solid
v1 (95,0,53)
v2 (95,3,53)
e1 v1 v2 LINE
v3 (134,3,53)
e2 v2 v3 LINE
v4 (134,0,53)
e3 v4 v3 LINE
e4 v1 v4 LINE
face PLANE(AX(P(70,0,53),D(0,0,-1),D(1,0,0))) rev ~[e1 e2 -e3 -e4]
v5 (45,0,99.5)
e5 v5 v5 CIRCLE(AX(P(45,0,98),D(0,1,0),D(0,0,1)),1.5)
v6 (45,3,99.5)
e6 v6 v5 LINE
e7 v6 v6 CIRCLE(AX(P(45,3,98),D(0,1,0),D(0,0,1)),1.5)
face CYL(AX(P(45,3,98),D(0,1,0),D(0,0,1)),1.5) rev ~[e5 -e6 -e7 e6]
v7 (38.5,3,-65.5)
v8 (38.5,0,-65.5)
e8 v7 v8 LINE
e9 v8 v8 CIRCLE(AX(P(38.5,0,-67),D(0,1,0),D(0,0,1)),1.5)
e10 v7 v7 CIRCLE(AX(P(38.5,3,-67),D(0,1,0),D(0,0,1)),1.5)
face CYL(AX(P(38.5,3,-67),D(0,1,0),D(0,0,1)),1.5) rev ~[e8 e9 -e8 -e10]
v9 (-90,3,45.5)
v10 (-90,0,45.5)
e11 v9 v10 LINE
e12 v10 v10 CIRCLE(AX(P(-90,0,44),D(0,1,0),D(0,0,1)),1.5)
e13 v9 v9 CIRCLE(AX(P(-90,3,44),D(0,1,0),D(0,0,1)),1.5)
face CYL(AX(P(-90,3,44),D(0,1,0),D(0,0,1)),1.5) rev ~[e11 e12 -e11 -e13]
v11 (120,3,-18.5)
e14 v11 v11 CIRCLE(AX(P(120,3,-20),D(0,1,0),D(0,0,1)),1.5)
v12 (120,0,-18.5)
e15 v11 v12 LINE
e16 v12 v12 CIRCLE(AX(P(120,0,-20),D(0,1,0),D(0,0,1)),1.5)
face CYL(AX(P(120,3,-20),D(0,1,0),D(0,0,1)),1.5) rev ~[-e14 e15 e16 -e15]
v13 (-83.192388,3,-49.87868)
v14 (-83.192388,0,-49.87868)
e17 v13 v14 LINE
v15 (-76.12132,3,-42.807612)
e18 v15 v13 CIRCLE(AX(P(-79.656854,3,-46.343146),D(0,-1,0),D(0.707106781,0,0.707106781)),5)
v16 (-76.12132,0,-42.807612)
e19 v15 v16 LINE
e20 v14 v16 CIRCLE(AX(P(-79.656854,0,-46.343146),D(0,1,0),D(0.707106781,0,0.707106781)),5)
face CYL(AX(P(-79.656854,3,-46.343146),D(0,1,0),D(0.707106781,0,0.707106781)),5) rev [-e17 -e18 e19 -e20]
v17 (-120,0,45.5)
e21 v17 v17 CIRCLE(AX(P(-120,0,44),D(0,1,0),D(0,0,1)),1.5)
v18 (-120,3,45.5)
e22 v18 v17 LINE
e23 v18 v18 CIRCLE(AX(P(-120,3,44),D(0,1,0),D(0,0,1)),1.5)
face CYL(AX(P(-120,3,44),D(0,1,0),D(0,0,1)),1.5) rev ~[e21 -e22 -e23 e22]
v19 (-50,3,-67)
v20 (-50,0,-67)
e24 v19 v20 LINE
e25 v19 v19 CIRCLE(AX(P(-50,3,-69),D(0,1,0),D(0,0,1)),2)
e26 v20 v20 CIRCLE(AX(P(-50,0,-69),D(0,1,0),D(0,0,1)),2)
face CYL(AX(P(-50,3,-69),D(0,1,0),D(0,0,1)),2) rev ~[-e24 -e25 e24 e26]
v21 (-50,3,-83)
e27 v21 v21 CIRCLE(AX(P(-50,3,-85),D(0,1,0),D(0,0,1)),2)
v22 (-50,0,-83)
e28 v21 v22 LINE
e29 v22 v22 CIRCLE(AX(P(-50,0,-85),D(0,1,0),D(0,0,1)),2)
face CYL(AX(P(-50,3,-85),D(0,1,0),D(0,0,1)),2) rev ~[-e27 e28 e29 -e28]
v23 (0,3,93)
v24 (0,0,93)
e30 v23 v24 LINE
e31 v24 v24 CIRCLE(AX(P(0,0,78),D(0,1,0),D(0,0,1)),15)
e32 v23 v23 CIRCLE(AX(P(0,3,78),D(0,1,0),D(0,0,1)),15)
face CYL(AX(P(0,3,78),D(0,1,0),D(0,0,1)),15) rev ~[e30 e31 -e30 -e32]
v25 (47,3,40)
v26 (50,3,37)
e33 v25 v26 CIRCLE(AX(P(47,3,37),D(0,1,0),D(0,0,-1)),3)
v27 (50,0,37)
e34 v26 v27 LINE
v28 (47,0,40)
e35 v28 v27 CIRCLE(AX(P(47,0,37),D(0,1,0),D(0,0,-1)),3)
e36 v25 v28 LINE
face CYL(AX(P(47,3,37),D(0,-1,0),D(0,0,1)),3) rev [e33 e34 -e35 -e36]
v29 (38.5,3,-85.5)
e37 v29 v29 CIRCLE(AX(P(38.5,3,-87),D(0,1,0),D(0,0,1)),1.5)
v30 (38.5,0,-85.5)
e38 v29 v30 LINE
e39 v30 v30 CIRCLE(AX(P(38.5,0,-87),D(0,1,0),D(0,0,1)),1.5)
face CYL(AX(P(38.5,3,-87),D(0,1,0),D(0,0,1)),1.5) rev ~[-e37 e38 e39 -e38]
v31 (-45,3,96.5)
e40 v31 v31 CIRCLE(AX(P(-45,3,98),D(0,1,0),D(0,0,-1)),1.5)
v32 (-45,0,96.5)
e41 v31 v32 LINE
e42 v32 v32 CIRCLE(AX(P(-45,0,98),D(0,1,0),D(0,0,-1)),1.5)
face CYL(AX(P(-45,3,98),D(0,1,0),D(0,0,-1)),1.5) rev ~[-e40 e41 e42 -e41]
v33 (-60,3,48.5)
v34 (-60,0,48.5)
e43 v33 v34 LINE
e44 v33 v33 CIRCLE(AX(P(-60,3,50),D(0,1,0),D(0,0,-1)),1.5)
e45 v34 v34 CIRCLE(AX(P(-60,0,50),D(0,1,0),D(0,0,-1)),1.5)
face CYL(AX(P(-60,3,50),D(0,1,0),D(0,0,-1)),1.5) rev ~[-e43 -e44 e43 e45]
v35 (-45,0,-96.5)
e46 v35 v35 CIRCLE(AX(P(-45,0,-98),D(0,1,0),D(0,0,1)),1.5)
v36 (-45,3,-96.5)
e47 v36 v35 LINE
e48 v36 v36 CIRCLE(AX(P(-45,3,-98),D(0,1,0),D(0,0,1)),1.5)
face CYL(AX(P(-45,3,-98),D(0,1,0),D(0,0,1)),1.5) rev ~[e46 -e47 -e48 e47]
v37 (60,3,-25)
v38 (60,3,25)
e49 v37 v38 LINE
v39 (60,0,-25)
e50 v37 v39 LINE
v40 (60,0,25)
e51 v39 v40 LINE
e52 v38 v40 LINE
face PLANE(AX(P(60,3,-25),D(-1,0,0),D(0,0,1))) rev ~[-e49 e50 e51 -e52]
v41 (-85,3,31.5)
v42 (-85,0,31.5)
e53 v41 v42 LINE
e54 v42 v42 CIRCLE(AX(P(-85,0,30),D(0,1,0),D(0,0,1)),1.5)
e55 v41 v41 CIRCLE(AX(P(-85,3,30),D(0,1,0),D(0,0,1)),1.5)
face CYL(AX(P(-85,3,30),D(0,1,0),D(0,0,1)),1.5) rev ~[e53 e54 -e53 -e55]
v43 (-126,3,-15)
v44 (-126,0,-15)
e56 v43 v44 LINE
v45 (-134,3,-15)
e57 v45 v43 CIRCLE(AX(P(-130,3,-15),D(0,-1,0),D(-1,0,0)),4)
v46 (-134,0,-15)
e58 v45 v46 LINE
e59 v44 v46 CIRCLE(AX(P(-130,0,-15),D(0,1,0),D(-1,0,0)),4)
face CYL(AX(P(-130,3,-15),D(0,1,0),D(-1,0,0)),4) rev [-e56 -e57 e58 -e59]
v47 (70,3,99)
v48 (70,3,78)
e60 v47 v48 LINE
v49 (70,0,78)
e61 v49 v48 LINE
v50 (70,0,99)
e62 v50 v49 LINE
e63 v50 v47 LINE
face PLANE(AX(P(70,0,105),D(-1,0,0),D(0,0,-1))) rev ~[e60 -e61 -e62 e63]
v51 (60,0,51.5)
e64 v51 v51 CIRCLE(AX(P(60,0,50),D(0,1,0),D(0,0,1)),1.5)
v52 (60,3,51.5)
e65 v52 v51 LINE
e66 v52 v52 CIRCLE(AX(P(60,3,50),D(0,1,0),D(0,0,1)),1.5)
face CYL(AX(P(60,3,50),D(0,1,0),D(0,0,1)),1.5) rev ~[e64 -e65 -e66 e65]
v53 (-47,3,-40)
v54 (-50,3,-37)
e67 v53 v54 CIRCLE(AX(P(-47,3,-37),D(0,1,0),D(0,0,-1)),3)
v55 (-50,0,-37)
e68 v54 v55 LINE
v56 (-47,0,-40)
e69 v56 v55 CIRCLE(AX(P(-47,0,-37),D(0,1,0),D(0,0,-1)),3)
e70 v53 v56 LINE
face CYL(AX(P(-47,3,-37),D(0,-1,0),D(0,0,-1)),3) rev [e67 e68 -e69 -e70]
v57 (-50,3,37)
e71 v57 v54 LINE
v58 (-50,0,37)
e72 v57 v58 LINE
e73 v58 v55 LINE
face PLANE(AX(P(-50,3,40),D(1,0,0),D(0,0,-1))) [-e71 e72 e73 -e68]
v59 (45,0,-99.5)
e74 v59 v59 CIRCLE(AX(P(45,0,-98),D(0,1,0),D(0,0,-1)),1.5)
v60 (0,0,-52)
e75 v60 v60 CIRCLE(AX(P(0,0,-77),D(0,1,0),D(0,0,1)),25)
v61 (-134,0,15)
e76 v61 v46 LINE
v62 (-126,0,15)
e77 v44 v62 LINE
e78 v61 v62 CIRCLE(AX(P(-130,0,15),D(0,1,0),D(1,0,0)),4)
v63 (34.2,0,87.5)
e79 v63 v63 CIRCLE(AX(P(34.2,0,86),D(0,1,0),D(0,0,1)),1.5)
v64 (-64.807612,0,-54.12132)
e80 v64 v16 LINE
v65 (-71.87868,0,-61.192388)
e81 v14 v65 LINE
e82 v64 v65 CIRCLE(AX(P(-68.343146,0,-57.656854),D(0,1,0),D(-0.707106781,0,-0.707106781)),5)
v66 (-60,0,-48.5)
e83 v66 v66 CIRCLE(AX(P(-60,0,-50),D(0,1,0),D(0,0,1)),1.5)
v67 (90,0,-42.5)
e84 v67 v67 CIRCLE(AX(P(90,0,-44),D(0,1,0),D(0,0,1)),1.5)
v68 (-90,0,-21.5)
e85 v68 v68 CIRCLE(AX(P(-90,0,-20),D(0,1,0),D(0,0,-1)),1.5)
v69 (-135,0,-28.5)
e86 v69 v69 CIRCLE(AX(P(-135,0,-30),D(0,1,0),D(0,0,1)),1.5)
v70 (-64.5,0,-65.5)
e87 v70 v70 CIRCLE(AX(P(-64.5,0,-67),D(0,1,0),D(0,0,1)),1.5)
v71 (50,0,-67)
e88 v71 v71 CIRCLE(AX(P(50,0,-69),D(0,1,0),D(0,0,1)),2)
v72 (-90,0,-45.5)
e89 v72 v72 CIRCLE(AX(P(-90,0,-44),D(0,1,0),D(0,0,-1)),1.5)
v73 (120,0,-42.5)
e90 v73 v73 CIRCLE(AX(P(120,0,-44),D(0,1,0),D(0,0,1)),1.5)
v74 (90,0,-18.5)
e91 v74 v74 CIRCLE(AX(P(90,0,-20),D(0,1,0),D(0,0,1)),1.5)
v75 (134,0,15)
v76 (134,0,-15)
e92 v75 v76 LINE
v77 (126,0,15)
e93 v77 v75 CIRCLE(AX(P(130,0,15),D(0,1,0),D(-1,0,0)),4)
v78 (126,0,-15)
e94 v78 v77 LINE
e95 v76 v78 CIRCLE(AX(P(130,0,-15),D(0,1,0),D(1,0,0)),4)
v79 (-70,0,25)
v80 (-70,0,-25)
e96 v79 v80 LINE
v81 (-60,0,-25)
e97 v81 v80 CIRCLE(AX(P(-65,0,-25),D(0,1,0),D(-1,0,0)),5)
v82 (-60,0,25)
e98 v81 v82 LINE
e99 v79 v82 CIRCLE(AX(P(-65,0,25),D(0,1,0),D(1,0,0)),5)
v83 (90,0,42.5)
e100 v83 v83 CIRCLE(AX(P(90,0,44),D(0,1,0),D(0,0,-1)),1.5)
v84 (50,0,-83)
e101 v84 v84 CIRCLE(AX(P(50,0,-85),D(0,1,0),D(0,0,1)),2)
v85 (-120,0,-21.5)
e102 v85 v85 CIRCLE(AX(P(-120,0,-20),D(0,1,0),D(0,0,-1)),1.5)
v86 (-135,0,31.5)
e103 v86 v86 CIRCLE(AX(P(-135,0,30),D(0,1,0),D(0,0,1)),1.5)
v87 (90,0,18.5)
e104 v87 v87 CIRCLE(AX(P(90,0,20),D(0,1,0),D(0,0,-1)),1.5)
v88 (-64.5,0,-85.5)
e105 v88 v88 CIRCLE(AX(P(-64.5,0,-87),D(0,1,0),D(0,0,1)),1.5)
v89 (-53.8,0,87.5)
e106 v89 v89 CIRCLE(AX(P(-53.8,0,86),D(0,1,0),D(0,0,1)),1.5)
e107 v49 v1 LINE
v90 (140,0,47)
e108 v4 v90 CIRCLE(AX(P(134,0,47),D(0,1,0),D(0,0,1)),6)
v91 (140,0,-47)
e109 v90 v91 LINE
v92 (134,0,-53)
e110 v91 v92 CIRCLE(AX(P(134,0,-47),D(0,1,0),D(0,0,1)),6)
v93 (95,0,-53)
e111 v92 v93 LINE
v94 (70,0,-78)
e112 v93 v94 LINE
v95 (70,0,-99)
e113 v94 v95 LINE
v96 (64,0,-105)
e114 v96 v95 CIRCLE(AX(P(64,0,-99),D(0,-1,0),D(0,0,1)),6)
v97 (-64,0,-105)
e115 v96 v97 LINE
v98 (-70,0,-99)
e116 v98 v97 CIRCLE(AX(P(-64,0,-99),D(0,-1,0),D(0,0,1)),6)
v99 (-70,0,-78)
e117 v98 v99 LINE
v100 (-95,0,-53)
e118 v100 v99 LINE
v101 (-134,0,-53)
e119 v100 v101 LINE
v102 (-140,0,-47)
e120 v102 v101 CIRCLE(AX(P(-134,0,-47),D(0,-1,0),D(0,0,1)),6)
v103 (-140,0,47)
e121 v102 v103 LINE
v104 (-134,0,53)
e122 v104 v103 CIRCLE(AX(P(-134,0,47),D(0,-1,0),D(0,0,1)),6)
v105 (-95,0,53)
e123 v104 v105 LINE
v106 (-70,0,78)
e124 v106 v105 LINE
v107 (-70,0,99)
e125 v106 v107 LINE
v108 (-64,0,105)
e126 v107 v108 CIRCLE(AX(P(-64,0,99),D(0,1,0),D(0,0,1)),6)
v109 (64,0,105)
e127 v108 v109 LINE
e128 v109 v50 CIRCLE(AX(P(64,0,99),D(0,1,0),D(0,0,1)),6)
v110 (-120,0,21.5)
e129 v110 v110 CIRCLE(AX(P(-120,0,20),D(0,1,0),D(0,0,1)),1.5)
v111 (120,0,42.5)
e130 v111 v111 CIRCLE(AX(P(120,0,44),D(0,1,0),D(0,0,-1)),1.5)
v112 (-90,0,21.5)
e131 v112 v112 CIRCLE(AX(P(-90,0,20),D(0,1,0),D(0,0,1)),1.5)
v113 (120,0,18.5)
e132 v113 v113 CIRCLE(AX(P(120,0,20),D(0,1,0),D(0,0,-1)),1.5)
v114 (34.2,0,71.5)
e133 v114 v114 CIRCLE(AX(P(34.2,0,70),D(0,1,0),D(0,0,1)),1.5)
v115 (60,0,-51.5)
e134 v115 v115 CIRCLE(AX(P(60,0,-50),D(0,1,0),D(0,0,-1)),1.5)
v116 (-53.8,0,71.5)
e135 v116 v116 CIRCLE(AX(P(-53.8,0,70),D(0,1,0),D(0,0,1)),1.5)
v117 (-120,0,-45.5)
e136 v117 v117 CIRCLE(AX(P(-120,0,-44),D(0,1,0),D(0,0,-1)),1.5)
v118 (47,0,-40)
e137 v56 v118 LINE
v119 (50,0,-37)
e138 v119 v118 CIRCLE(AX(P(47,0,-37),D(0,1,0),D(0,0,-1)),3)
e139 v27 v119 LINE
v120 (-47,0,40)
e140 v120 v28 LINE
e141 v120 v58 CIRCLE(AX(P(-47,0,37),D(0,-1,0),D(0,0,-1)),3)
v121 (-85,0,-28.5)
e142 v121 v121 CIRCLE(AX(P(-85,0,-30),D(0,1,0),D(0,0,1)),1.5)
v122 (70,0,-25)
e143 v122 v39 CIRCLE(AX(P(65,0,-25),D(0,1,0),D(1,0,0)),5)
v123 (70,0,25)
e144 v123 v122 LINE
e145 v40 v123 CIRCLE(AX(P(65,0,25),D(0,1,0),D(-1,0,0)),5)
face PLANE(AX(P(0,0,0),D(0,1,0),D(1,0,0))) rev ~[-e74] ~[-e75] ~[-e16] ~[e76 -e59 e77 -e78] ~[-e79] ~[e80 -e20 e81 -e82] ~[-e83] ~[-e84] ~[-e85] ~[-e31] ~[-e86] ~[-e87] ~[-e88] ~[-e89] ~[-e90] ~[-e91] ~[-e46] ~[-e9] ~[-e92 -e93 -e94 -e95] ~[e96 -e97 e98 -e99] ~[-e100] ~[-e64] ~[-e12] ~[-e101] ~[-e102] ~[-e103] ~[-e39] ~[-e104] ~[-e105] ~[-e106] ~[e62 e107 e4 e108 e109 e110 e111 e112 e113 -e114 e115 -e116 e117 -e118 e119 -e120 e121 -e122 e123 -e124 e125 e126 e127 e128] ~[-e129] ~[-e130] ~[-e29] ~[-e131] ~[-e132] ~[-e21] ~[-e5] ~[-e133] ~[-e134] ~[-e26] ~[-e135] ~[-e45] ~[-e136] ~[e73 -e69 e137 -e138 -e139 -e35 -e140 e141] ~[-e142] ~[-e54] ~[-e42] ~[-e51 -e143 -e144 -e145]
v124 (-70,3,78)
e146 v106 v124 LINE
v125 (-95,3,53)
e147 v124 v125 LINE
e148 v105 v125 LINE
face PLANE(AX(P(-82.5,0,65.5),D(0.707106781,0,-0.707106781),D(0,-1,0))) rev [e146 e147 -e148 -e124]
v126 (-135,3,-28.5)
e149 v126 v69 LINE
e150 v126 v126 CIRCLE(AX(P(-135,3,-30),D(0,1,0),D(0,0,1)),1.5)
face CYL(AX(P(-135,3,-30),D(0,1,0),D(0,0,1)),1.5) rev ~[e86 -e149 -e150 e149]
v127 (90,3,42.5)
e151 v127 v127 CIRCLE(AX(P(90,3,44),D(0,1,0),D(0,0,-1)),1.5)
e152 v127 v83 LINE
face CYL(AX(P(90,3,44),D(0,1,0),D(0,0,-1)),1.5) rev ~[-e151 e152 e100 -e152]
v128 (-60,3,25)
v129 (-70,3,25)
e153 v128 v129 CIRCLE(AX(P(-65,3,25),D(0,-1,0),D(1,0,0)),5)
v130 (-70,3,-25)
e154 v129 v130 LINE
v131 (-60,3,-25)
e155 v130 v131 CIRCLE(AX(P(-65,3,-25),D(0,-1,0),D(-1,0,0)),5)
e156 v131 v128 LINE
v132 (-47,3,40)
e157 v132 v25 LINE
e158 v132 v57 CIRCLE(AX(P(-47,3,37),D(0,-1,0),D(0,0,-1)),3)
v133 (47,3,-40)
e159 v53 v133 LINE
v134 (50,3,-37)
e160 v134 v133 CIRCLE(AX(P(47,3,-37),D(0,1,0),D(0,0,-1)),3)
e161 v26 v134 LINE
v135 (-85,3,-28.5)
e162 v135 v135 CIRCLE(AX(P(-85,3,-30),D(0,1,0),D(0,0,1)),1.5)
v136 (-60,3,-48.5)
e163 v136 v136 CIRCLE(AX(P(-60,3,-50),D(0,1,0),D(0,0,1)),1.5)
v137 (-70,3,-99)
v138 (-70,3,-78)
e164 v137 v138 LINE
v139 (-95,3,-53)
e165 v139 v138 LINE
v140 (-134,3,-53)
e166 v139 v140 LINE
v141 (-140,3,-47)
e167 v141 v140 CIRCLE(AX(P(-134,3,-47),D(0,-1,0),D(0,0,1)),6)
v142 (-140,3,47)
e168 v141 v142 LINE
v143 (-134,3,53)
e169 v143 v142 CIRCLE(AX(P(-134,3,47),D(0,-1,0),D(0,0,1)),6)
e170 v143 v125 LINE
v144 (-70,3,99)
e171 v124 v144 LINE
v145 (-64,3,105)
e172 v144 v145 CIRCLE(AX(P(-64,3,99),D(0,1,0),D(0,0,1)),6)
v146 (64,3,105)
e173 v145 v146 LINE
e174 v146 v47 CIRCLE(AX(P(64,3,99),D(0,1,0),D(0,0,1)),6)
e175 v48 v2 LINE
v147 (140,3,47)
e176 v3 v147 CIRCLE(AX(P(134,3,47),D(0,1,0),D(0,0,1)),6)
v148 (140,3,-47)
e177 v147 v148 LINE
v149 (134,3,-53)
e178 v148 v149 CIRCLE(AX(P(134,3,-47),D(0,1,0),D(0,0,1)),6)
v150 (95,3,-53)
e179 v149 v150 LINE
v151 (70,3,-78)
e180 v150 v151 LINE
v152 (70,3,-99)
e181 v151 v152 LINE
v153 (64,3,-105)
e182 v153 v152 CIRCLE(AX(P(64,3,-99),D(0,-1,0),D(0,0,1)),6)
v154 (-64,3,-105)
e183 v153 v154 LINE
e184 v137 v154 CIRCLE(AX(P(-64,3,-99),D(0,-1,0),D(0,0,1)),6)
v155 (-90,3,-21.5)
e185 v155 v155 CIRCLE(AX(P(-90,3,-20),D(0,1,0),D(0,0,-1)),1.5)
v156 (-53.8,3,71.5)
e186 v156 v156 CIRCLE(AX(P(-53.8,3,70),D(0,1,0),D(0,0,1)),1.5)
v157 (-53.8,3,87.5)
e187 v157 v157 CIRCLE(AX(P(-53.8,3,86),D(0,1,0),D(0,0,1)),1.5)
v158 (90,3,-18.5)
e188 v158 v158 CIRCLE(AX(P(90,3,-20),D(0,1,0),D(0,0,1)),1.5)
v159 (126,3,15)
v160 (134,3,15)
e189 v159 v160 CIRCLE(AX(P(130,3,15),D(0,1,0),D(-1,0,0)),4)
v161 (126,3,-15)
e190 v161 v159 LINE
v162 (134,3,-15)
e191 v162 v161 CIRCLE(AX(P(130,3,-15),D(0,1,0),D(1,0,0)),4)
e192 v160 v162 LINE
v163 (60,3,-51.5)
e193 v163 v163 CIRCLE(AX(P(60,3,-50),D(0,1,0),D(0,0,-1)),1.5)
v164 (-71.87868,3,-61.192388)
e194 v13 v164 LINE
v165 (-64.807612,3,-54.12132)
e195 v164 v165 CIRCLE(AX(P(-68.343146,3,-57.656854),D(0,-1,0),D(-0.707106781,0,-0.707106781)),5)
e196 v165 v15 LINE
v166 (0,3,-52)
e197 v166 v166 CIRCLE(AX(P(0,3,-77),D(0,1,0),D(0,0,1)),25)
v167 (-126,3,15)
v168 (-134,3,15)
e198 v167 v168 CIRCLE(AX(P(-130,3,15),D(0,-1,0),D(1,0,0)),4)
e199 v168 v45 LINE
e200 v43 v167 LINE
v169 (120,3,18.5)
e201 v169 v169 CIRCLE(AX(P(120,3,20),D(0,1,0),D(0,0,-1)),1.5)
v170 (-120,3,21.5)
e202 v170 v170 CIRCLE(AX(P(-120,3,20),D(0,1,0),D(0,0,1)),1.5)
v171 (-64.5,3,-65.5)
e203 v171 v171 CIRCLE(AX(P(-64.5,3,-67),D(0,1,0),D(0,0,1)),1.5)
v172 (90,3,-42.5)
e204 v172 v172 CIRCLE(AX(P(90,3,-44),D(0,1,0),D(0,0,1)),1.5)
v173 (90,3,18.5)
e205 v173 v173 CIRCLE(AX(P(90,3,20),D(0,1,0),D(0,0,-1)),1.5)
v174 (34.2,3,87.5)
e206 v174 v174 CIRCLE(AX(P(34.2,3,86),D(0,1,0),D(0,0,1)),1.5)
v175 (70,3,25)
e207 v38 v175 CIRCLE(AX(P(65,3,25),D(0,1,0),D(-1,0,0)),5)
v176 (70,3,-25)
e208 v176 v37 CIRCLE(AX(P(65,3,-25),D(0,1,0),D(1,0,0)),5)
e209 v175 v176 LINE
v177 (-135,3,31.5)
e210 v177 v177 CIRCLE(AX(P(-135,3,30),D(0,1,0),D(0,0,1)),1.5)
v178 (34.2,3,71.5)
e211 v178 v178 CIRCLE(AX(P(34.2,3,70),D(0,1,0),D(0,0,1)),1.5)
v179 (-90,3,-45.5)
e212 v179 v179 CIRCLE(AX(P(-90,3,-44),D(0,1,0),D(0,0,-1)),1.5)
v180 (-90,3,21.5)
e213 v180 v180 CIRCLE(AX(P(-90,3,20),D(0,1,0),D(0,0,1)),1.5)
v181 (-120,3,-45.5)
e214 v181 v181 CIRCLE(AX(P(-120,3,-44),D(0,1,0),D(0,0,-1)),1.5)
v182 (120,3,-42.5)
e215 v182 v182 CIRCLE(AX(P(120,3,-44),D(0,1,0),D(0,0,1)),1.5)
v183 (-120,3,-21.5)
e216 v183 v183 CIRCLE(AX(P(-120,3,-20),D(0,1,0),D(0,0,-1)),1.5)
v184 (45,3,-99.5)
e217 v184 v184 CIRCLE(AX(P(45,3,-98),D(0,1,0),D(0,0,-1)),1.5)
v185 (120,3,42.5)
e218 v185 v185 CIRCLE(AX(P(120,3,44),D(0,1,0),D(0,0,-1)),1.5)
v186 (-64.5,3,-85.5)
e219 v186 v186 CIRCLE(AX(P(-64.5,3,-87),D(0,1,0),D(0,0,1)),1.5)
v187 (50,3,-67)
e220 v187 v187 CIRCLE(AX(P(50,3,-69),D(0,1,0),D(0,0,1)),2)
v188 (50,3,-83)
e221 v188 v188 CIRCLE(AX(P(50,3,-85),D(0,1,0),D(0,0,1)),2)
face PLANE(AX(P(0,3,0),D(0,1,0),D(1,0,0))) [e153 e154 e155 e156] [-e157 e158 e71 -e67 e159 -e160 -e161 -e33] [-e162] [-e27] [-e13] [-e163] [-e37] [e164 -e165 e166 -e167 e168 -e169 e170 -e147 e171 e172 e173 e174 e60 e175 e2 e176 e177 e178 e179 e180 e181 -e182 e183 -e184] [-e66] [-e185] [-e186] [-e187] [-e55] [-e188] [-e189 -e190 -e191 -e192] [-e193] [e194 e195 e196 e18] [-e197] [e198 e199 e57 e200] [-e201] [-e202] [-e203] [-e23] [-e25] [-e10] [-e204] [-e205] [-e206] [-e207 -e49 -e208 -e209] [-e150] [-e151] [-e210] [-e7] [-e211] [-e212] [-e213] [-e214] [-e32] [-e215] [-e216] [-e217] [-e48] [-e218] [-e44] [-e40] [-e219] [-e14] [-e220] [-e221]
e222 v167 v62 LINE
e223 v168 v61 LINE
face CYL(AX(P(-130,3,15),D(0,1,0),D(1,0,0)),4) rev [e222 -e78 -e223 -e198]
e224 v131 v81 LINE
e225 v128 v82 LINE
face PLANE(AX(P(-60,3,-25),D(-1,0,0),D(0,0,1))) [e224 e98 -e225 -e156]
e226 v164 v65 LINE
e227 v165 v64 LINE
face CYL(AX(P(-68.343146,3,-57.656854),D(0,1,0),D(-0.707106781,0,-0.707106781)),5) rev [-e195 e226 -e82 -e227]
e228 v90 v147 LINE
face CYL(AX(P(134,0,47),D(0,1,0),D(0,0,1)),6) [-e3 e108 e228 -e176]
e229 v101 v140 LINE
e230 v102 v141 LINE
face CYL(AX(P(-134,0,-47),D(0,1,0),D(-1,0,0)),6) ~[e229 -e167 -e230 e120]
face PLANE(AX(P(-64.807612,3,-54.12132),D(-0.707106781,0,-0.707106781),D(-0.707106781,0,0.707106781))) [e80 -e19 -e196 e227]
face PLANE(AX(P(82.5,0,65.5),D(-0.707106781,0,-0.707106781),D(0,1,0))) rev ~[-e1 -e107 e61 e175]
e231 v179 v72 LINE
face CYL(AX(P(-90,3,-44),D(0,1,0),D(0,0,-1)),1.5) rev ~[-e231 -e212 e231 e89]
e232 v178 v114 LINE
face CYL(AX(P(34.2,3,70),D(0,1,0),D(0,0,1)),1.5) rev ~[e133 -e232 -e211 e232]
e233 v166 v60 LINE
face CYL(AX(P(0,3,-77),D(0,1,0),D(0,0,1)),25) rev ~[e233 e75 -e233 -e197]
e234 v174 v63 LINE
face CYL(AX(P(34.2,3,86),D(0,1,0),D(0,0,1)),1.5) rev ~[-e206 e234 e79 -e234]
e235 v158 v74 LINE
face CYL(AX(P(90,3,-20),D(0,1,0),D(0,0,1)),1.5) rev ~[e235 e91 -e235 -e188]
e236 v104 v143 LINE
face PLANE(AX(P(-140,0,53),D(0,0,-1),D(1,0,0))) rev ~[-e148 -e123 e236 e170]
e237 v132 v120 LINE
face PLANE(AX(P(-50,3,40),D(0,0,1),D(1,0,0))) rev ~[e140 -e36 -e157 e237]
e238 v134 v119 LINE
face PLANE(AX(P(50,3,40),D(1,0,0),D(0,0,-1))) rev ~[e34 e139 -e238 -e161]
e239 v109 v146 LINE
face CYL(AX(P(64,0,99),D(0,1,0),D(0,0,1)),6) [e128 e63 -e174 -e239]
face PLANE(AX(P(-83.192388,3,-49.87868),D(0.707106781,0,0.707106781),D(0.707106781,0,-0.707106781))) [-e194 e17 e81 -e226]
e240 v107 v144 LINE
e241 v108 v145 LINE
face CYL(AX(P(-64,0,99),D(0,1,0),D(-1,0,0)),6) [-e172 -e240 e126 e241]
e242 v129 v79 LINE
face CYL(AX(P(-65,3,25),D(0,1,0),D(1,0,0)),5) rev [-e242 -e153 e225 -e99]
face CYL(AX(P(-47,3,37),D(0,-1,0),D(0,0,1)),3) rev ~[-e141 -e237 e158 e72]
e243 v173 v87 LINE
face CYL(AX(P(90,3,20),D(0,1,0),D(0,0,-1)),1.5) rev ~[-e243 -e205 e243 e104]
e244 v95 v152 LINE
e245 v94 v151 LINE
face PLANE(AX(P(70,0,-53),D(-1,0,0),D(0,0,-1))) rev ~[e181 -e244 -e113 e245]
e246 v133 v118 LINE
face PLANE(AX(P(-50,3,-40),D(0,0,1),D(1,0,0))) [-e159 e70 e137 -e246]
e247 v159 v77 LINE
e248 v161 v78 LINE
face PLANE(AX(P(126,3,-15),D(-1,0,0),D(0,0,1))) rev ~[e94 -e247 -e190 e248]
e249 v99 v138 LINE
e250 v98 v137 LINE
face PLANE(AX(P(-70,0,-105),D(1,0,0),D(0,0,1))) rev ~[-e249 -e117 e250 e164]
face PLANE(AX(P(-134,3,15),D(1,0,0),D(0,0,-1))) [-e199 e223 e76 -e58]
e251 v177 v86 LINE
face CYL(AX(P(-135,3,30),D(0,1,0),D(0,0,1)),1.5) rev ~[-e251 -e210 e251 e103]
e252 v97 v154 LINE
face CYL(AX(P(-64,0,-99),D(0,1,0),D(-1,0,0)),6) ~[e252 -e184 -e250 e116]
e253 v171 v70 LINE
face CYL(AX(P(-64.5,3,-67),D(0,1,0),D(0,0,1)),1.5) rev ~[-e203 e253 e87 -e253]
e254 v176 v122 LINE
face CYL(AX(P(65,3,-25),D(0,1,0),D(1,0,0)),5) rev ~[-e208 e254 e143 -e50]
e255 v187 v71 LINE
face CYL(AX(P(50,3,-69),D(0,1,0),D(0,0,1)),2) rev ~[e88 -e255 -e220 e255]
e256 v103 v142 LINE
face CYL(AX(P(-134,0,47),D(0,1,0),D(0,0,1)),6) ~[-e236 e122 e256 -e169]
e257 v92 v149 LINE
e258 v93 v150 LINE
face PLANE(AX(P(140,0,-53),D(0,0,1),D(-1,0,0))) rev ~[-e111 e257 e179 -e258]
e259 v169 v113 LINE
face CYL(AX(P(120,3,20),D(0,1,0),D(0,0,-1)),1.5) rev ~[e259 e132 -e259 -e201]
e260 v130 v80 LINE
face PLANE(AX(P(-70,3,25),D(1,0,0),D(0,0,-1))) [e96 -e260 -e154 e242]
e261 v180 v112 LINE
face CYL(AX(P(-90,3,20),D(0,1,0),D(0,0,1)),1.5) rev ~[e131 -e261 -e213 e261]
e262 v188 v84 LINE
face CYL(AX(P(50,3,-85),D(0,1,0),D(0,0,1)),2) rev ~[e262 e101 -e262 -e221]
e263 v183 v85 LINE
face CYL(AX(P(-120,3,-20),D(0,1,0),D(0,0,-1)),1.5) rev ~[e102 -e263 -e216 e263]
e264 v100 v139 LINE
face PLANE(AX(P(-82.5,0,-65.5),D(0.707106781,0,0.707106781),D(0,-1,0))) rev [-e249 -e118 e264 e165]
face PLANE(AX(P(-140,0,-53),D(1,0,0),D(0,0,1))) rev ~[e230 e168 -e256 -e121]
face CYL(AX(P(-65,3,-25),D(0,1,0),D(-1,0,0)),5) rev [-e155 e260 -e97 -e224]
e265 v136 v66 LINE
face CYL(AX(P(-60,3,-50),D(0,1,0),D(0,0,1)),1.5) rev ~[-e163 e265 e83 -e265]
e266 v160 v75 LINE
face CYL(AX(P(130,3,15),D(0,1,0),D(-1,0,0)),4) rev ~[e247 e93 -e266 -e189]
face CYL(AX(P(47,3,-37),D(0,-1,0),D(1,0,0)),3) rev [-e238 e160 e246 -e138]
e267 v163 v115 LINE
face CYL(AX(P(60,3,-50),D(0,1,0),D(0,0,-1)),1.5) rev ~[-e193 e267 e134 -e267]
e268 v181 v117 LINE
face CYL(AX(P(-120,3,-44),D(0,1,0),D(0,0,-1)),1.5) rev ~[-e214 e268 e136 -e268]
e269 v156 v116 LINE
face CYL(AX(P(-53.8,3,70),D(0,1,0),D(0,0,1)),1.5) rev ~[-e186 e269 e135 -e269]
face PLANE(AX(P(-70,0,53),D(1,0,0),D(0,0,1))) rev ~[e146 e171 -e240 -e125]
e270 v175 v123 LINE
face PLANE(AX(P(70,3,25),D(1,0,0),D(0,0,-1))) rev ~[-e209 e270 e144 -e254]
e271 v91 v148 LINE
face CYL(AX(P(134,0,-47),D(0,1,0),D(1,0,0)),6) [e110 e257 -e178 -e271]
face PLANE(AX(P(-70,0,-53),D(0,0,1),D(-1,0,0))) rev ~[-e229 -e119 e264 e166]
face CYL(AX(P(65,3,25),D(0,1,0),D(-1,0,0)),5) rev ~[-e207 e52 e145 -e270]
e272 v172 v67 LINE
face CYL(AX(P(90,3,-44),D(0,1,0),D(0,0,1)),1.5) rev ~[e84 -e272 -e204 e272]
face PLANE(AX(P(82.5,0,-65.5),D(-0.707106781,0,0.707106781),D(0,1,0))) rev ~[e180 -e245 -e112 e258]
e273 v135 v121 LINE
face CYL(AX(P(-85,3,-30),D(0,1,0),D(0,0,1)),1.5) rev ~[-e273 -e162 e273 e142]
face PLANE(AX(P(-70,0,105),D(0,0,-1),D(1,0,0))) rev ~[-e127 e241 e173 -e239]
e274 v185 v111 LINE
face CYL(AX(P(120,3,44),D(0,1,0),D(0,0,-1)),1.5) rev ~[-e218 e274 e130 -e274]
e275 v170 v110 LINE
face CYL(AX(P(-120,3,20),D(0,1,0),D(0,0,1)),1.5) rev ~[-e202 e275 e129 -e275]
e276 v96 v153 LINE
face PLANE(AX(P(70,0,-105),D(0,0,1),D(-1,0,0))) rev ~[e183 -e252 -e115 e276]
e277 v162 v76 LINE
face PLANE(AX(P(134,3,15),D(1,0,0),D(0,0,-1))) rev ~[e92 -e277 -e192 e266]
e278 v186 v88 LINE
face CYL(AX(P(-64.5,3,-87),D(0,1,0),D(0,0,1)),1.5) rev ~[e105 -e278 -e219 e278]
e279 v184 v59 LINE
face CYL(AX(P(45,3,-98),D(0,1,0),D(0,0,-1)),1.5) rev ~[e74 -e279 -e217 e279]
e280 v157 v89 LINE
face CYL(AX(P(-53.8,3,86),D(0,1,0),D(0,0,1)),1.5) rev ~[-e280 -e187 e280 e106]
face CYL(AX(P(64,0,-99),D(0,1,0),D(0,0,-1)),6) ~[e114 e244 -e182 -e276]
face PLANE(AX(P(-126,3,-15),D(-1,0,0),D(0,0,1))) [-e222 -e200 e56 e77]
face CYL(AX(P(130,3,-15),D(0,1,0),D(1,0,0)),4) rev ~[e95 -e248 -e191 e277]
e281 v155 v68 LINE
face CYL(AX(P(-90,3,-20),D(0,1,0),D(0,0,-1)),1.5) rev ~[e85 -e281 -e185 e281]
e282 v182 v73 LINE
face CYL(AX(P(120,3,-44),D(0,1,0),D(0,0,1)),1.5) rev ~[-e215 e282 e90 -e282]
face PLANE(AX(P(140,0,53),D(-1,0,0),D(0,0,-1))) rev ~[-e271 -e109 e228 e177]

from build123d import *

# Parameters (mm, degrees)
EXTRUDE_1_DEPTH     = 3
SKETCH_2_R          = 1.5
CUT_EXTRUDE_1_DEPTH = 3
SKETCH_3_R          = 1.5
SKETCH_3_R_2        = 25
SKETCH_3_R_3        = 15
SKETCH_3_R_4        = 2
CUT_EXTRUDE_2_DEPTH = 10
SKETCH_4_W          = 100
SKETCH_4_H          = 80
CUT_EXTRUDE_3_DEPTH = 3
FILLET_2_R          = 3
SKETCH_5_R          = 1.5
CUT_EXTRUDE_4_DEPTH = 3
FILLET_3_R          = 6
CHAMFER_1_SIZE      = 25
SKETCH_7_R          = 1.5
CUT_EXTRUDE_6_DEPTH = 10


with BuildPart() as part:
    # 草图1 → 凸台-拉伸1 (new body)
    with BuildSketch(Plane(origin=(0, 0, 0), x_dir=(1, 0, 0), z_dir=(0, 1, 0))):
        Polygon((-70, -53), (-70, -105), (70, -105), (70, -53), (140, -53), (140, 53), (70, 53), (70, 105), (-70, 105), (-70, 53), (-140, 53), (-140, -53), align=None)
    extrude(amount=EXTRUDE_1_DEPTH)

    # 草图2 → 切除-拉伸1 (cut)
    with BuildSketch(Plane(origin=(0, 3, 0), x_dir=(1, 0, 0), z_dir=(0, 1, 0))):
        with Locations(Location((120, 44, 0), (0, 0, 270))):
            Circle(SKETCH_2_R)
        with Locations(Location((90, 44, 0), (0, 0, 270))):
            Circle(SKETCH_2_R)
        with Locations(Location((90, 20, 0), (0, 0, 270))):
            Circle(SKETCH_2_R)
        with Locations(Location((120, 20, 0), (0, 0, 270))):
            Circle(SKETCH_2_R)
        with Locations(Location((120, -20, 0), (0, 0, 90))):
            Circle(SKETCH_2_R)
        with Locations(Location((120, -44, 0), (0, 0, 90))):
            Circle(SKETCH_2_R)
        with Locations(Location((90, -20, 0), (0, 0, 90))):
            Circle(SKETCH_2_R)
        with Locations(Location((90, -44, 0), (0, 0, 90))):
            Circle(SKETCH_2_R)
        with Locations(Location((-90, -44, 0), (0, 0, 270))):
            Circle(SKETCH_2_R)
        with Locations(Location((-90, -20, 0), (0, 0, 270))):
            Circle(SKETCH_2_R)
        with Locations(Location((-120, -44, 0), (0, 0, 270))):
            Circle(SKETCH_2_R)
        with Locations(Location((-120, -20, 0), (0, 0, 270))):
            Circle(SKETCH_2_R)
        with Locations(Location((-120, 20, 0), (0, 0, 90))):
            Circle(SKETCH_2_R)
        with Locations(Location((-90, 20, 0), (0, 0, 90))):
            Circle(SKETCH_2_R)
        with Locations(Location((-90, 44, 0), (0, 0, 90))):
            Circle(SKETCH_2_R)
        with Locations(Location((-120, 44, 0), (0, 0, 90))):
            Circle(SKETCH_2_R)
    extrude(amount=-CUT_EXTRUDE_1_DEPTH, mode=Mode.SUBTRACT)

    # 草图3 → 切除-拉伸2 (cut)
    with BuildSketch(Plane(origin=(0, 3, 0), x_dir=(1, 0, 0), z_dir=(0, 1, 0))):
        with Locations(Location((-64.5, 87, 0), (0, 0, 270))):
            Circle(SKETCH_3_R)
        with Locations(Location((-64.5, 67, 0), (0, 0, 270))):
            Circle(SKETCH_3_R)
        with Locations(Location((0, 77, 0), (0, 0, 270))):
            Circle(SKETCH_3_R_2)
        with Locations(Location((34.2, -70, 0), (0, 0, 270))):
            Circle(SKETCH_3_R)
        with Locations(Location((34.2, -86, 0), (0, 0, 270))):
            Circle(SKETCH_3_R)
        with Locations(Location((0, -78, 0), (0, 0, 270))):
            Circle(SKETCH_3_R_3)
        with Locations(Location((-50, 85, 0), (0, 0, 270))):
            Circle(SKETCH_3_R_4)
        with Locations(Location((-50, 69, 0), (0, 0, 270))):
            Circle(SKETCH_3_R_4)
        with Locations(Location((50, 85, 0), (0, 0, 270))):
            Circle(SKETCH_3_R_4)
        with Locations(Location((50, 69, 0), (0, 0, 270))):
            Circle(SKETCH_3_R_4)
        with Locations(Location((38.5, 87, 0), (0, 0, 270))):
            Circle(SKETCH_3_R)
        with Locations(Location((38.5, 67, 0), (0, 0, 270))):
            Circle(SKETCH_3_R)
        with Locations(Location((-53.8, -86, 0), (0, 0, 270))):
            Circle(SKETCH_3_R)
        with Locations(Location((-53.8, -70, 0), (0, 0, 270))):
            Circle(SKETCH_3_R)
    extrude(amount=-CUT_EXTRUDE_2_DEPTH, mode=Mode.SUBTRACT)

    # 草图4 → 切除-拉伸3 (cut)
    with BuildSketch(Plane(origin=(0, 3, 0), x_dir=(1, 0, 0), z_dir=(0, 1, 0))):
        Rectangle(SKETCH_4_W, SKETCH_4_H)
    extrude(amount=-CUT_EXTRUDE_3_DEPTH, mode=Mode.SUBTRACT)

    # 圆角2
    fillet_2_edges = [part.edges().sort_by_distance(p)[0] for p in [
        (50, 1.5, -40),
        (50, 1.5, 40),
        (-50, 1.5, 40),
        (-50, 1.5, -40),
    ]]
    fillet(fillet_2_edges, radius=FILLET_2_R)

    # 草图5 → 切除-拉伸4 (cut)
    with BuildSketch(Plane(origin=(0, 3, 0), x_dir=(1, 0, 0), z_dir=(0, 1, 0))):
        with Locations(Location((-60, 50, 0), (0, 0, 270))):
            Circle(SKETCH_5_R)
        with Locations(Location((-45, 98, 0), (0, 0, 270))):
            Circle(SKETCH_5_R)
        with Locations(Location((60, 50, 0), (0, 0, 90))):
            Circle(SKETCH_5_R)
        with Locations(Location((45, 98, 0), (0, 0, 90))):
            Circle(SKETCH_5_R)
        with Locations(Location((45, -98, 0), (0, 0, 270))):
            Circle(SKETCH_5_R)
        with Locations(Location((60, -50, 0), (0, 0, 270))):
            Circle(SKETCH_5_R)
        with Locations(Location((-45, -98, 0), (0, 0, 90))):
            Circle(SKETCH_5_R)
        with Locations(Location((-60, -50, 0), (0, 0, 90))):
            Circle(SKETCH_5_R)
    extrude(amount=-CUT_EXTRUDE_4_DEPTH, mode=Mode.SUBTRACT)

    # 圆角3
    fillet_3_edges = [part.edges().sort_by_distance(p)[0] for p in [
        (-140, 1.5, 53),
        (-140, 1.5, -53),
        (-70, 1.5, -105),
        (70, 1.5, -105),
        (140, 1.5, -53),
        (140, 1.5, 53),
        (70, 1.5, 105),
        (-70, 1.5, 105),
    ]]
    fillet(fillet_3_edges, radius=FILLET_3_R)

    # 倒角1
    chamfer_1_edges = [part.edges().sort_by_distance(p)[0] for p in [
        (-70, 1.5, 53),
        (-70, 1.5, -53),
        (70, 1.5, -53),
        (70, 1.5, 53),
    ]]
    chamfer(chamfer_1_edges, length=CHAMFER_1_SIZE)

    # 草图7 → 切除-拉伸6 (cut)
    with BuildSketch(Plane(origin=(0, 3, 0), x_dir=(1, 0, 0), z_dir=(0, 1, 0))):
        with Locations(Location((-135, 30, 0), (0, 0, 270))):
            Circle(SKETCH_7_R)
        with Locations(Location((-85, 30, 0), (0, 0, 270))):
            Circle(SKETCH_7_R)
        with Locations(Location((-85, -30, 0), (0, 0, 270))):
            Circle(SKETCH_7_R)
        with Locations(Location((-135, -30, 0), (0, 0, 270))):
            Circle(SKETCH_7_R)
        with BuildLine():
            Line((-134, -15), (-134, 15))
            ThreePointArc((-134, 15), (-130, 19), (-126, 15))
            Line((-126, 15), (-126, -15))
            ThreePointArc((-126, -15), (-130, -19), (-134, -15))
        make_face()
        with BuildLine():
            Line((-70, -25), (-70, 25))
            ThreePointArc((-70, 25), (-65, 30), (-60, 25))
            Line((-60, 25), (-60, -25))
            ThreePointArc((-60, -25), (-65, -30), (-70, -25))
        make_face()
        with BuildLine():
            Line((-83.192388155, 49.878679656), (-71.878679656, 61.192388155))
            ThreePointArc((-71.878679656, 61.192388155), (-64.807611845, 61.192388155), (-64.807611845, 54.121320344))
            Line((-64.807611845, 54.121320344), (-76.121320344, 42.807611845))
            ThreePointArc((-76.121320344, 42.807611845), (-83.192388155, 42.807611845), (-83.192388155, 49.878679656))
        make_face()
        with BuildLine():
            Line((134, -15), (134, 15))
            ThreePointArc((134, 15), (130, 19), (126, 15))
            Line((126, 15), (126, -15))
            ThreePointArc((126, -15), (130, -19), (134, -15))
        make_face()
        with BuildLine():
            Line((70, -25), (70, 25))
            ThreePointArc((70, 25), (65, 30), (60, 25))
            Line((60, 25), (60, -25))
            ThreePointArc((60, -25), (65, -30), (70, -25))
        make_face()
    extrude(amount=-CUT_EXTRUDE_6_DEPTH, mode=Mode.SUBTRACT)


solid = part.part
